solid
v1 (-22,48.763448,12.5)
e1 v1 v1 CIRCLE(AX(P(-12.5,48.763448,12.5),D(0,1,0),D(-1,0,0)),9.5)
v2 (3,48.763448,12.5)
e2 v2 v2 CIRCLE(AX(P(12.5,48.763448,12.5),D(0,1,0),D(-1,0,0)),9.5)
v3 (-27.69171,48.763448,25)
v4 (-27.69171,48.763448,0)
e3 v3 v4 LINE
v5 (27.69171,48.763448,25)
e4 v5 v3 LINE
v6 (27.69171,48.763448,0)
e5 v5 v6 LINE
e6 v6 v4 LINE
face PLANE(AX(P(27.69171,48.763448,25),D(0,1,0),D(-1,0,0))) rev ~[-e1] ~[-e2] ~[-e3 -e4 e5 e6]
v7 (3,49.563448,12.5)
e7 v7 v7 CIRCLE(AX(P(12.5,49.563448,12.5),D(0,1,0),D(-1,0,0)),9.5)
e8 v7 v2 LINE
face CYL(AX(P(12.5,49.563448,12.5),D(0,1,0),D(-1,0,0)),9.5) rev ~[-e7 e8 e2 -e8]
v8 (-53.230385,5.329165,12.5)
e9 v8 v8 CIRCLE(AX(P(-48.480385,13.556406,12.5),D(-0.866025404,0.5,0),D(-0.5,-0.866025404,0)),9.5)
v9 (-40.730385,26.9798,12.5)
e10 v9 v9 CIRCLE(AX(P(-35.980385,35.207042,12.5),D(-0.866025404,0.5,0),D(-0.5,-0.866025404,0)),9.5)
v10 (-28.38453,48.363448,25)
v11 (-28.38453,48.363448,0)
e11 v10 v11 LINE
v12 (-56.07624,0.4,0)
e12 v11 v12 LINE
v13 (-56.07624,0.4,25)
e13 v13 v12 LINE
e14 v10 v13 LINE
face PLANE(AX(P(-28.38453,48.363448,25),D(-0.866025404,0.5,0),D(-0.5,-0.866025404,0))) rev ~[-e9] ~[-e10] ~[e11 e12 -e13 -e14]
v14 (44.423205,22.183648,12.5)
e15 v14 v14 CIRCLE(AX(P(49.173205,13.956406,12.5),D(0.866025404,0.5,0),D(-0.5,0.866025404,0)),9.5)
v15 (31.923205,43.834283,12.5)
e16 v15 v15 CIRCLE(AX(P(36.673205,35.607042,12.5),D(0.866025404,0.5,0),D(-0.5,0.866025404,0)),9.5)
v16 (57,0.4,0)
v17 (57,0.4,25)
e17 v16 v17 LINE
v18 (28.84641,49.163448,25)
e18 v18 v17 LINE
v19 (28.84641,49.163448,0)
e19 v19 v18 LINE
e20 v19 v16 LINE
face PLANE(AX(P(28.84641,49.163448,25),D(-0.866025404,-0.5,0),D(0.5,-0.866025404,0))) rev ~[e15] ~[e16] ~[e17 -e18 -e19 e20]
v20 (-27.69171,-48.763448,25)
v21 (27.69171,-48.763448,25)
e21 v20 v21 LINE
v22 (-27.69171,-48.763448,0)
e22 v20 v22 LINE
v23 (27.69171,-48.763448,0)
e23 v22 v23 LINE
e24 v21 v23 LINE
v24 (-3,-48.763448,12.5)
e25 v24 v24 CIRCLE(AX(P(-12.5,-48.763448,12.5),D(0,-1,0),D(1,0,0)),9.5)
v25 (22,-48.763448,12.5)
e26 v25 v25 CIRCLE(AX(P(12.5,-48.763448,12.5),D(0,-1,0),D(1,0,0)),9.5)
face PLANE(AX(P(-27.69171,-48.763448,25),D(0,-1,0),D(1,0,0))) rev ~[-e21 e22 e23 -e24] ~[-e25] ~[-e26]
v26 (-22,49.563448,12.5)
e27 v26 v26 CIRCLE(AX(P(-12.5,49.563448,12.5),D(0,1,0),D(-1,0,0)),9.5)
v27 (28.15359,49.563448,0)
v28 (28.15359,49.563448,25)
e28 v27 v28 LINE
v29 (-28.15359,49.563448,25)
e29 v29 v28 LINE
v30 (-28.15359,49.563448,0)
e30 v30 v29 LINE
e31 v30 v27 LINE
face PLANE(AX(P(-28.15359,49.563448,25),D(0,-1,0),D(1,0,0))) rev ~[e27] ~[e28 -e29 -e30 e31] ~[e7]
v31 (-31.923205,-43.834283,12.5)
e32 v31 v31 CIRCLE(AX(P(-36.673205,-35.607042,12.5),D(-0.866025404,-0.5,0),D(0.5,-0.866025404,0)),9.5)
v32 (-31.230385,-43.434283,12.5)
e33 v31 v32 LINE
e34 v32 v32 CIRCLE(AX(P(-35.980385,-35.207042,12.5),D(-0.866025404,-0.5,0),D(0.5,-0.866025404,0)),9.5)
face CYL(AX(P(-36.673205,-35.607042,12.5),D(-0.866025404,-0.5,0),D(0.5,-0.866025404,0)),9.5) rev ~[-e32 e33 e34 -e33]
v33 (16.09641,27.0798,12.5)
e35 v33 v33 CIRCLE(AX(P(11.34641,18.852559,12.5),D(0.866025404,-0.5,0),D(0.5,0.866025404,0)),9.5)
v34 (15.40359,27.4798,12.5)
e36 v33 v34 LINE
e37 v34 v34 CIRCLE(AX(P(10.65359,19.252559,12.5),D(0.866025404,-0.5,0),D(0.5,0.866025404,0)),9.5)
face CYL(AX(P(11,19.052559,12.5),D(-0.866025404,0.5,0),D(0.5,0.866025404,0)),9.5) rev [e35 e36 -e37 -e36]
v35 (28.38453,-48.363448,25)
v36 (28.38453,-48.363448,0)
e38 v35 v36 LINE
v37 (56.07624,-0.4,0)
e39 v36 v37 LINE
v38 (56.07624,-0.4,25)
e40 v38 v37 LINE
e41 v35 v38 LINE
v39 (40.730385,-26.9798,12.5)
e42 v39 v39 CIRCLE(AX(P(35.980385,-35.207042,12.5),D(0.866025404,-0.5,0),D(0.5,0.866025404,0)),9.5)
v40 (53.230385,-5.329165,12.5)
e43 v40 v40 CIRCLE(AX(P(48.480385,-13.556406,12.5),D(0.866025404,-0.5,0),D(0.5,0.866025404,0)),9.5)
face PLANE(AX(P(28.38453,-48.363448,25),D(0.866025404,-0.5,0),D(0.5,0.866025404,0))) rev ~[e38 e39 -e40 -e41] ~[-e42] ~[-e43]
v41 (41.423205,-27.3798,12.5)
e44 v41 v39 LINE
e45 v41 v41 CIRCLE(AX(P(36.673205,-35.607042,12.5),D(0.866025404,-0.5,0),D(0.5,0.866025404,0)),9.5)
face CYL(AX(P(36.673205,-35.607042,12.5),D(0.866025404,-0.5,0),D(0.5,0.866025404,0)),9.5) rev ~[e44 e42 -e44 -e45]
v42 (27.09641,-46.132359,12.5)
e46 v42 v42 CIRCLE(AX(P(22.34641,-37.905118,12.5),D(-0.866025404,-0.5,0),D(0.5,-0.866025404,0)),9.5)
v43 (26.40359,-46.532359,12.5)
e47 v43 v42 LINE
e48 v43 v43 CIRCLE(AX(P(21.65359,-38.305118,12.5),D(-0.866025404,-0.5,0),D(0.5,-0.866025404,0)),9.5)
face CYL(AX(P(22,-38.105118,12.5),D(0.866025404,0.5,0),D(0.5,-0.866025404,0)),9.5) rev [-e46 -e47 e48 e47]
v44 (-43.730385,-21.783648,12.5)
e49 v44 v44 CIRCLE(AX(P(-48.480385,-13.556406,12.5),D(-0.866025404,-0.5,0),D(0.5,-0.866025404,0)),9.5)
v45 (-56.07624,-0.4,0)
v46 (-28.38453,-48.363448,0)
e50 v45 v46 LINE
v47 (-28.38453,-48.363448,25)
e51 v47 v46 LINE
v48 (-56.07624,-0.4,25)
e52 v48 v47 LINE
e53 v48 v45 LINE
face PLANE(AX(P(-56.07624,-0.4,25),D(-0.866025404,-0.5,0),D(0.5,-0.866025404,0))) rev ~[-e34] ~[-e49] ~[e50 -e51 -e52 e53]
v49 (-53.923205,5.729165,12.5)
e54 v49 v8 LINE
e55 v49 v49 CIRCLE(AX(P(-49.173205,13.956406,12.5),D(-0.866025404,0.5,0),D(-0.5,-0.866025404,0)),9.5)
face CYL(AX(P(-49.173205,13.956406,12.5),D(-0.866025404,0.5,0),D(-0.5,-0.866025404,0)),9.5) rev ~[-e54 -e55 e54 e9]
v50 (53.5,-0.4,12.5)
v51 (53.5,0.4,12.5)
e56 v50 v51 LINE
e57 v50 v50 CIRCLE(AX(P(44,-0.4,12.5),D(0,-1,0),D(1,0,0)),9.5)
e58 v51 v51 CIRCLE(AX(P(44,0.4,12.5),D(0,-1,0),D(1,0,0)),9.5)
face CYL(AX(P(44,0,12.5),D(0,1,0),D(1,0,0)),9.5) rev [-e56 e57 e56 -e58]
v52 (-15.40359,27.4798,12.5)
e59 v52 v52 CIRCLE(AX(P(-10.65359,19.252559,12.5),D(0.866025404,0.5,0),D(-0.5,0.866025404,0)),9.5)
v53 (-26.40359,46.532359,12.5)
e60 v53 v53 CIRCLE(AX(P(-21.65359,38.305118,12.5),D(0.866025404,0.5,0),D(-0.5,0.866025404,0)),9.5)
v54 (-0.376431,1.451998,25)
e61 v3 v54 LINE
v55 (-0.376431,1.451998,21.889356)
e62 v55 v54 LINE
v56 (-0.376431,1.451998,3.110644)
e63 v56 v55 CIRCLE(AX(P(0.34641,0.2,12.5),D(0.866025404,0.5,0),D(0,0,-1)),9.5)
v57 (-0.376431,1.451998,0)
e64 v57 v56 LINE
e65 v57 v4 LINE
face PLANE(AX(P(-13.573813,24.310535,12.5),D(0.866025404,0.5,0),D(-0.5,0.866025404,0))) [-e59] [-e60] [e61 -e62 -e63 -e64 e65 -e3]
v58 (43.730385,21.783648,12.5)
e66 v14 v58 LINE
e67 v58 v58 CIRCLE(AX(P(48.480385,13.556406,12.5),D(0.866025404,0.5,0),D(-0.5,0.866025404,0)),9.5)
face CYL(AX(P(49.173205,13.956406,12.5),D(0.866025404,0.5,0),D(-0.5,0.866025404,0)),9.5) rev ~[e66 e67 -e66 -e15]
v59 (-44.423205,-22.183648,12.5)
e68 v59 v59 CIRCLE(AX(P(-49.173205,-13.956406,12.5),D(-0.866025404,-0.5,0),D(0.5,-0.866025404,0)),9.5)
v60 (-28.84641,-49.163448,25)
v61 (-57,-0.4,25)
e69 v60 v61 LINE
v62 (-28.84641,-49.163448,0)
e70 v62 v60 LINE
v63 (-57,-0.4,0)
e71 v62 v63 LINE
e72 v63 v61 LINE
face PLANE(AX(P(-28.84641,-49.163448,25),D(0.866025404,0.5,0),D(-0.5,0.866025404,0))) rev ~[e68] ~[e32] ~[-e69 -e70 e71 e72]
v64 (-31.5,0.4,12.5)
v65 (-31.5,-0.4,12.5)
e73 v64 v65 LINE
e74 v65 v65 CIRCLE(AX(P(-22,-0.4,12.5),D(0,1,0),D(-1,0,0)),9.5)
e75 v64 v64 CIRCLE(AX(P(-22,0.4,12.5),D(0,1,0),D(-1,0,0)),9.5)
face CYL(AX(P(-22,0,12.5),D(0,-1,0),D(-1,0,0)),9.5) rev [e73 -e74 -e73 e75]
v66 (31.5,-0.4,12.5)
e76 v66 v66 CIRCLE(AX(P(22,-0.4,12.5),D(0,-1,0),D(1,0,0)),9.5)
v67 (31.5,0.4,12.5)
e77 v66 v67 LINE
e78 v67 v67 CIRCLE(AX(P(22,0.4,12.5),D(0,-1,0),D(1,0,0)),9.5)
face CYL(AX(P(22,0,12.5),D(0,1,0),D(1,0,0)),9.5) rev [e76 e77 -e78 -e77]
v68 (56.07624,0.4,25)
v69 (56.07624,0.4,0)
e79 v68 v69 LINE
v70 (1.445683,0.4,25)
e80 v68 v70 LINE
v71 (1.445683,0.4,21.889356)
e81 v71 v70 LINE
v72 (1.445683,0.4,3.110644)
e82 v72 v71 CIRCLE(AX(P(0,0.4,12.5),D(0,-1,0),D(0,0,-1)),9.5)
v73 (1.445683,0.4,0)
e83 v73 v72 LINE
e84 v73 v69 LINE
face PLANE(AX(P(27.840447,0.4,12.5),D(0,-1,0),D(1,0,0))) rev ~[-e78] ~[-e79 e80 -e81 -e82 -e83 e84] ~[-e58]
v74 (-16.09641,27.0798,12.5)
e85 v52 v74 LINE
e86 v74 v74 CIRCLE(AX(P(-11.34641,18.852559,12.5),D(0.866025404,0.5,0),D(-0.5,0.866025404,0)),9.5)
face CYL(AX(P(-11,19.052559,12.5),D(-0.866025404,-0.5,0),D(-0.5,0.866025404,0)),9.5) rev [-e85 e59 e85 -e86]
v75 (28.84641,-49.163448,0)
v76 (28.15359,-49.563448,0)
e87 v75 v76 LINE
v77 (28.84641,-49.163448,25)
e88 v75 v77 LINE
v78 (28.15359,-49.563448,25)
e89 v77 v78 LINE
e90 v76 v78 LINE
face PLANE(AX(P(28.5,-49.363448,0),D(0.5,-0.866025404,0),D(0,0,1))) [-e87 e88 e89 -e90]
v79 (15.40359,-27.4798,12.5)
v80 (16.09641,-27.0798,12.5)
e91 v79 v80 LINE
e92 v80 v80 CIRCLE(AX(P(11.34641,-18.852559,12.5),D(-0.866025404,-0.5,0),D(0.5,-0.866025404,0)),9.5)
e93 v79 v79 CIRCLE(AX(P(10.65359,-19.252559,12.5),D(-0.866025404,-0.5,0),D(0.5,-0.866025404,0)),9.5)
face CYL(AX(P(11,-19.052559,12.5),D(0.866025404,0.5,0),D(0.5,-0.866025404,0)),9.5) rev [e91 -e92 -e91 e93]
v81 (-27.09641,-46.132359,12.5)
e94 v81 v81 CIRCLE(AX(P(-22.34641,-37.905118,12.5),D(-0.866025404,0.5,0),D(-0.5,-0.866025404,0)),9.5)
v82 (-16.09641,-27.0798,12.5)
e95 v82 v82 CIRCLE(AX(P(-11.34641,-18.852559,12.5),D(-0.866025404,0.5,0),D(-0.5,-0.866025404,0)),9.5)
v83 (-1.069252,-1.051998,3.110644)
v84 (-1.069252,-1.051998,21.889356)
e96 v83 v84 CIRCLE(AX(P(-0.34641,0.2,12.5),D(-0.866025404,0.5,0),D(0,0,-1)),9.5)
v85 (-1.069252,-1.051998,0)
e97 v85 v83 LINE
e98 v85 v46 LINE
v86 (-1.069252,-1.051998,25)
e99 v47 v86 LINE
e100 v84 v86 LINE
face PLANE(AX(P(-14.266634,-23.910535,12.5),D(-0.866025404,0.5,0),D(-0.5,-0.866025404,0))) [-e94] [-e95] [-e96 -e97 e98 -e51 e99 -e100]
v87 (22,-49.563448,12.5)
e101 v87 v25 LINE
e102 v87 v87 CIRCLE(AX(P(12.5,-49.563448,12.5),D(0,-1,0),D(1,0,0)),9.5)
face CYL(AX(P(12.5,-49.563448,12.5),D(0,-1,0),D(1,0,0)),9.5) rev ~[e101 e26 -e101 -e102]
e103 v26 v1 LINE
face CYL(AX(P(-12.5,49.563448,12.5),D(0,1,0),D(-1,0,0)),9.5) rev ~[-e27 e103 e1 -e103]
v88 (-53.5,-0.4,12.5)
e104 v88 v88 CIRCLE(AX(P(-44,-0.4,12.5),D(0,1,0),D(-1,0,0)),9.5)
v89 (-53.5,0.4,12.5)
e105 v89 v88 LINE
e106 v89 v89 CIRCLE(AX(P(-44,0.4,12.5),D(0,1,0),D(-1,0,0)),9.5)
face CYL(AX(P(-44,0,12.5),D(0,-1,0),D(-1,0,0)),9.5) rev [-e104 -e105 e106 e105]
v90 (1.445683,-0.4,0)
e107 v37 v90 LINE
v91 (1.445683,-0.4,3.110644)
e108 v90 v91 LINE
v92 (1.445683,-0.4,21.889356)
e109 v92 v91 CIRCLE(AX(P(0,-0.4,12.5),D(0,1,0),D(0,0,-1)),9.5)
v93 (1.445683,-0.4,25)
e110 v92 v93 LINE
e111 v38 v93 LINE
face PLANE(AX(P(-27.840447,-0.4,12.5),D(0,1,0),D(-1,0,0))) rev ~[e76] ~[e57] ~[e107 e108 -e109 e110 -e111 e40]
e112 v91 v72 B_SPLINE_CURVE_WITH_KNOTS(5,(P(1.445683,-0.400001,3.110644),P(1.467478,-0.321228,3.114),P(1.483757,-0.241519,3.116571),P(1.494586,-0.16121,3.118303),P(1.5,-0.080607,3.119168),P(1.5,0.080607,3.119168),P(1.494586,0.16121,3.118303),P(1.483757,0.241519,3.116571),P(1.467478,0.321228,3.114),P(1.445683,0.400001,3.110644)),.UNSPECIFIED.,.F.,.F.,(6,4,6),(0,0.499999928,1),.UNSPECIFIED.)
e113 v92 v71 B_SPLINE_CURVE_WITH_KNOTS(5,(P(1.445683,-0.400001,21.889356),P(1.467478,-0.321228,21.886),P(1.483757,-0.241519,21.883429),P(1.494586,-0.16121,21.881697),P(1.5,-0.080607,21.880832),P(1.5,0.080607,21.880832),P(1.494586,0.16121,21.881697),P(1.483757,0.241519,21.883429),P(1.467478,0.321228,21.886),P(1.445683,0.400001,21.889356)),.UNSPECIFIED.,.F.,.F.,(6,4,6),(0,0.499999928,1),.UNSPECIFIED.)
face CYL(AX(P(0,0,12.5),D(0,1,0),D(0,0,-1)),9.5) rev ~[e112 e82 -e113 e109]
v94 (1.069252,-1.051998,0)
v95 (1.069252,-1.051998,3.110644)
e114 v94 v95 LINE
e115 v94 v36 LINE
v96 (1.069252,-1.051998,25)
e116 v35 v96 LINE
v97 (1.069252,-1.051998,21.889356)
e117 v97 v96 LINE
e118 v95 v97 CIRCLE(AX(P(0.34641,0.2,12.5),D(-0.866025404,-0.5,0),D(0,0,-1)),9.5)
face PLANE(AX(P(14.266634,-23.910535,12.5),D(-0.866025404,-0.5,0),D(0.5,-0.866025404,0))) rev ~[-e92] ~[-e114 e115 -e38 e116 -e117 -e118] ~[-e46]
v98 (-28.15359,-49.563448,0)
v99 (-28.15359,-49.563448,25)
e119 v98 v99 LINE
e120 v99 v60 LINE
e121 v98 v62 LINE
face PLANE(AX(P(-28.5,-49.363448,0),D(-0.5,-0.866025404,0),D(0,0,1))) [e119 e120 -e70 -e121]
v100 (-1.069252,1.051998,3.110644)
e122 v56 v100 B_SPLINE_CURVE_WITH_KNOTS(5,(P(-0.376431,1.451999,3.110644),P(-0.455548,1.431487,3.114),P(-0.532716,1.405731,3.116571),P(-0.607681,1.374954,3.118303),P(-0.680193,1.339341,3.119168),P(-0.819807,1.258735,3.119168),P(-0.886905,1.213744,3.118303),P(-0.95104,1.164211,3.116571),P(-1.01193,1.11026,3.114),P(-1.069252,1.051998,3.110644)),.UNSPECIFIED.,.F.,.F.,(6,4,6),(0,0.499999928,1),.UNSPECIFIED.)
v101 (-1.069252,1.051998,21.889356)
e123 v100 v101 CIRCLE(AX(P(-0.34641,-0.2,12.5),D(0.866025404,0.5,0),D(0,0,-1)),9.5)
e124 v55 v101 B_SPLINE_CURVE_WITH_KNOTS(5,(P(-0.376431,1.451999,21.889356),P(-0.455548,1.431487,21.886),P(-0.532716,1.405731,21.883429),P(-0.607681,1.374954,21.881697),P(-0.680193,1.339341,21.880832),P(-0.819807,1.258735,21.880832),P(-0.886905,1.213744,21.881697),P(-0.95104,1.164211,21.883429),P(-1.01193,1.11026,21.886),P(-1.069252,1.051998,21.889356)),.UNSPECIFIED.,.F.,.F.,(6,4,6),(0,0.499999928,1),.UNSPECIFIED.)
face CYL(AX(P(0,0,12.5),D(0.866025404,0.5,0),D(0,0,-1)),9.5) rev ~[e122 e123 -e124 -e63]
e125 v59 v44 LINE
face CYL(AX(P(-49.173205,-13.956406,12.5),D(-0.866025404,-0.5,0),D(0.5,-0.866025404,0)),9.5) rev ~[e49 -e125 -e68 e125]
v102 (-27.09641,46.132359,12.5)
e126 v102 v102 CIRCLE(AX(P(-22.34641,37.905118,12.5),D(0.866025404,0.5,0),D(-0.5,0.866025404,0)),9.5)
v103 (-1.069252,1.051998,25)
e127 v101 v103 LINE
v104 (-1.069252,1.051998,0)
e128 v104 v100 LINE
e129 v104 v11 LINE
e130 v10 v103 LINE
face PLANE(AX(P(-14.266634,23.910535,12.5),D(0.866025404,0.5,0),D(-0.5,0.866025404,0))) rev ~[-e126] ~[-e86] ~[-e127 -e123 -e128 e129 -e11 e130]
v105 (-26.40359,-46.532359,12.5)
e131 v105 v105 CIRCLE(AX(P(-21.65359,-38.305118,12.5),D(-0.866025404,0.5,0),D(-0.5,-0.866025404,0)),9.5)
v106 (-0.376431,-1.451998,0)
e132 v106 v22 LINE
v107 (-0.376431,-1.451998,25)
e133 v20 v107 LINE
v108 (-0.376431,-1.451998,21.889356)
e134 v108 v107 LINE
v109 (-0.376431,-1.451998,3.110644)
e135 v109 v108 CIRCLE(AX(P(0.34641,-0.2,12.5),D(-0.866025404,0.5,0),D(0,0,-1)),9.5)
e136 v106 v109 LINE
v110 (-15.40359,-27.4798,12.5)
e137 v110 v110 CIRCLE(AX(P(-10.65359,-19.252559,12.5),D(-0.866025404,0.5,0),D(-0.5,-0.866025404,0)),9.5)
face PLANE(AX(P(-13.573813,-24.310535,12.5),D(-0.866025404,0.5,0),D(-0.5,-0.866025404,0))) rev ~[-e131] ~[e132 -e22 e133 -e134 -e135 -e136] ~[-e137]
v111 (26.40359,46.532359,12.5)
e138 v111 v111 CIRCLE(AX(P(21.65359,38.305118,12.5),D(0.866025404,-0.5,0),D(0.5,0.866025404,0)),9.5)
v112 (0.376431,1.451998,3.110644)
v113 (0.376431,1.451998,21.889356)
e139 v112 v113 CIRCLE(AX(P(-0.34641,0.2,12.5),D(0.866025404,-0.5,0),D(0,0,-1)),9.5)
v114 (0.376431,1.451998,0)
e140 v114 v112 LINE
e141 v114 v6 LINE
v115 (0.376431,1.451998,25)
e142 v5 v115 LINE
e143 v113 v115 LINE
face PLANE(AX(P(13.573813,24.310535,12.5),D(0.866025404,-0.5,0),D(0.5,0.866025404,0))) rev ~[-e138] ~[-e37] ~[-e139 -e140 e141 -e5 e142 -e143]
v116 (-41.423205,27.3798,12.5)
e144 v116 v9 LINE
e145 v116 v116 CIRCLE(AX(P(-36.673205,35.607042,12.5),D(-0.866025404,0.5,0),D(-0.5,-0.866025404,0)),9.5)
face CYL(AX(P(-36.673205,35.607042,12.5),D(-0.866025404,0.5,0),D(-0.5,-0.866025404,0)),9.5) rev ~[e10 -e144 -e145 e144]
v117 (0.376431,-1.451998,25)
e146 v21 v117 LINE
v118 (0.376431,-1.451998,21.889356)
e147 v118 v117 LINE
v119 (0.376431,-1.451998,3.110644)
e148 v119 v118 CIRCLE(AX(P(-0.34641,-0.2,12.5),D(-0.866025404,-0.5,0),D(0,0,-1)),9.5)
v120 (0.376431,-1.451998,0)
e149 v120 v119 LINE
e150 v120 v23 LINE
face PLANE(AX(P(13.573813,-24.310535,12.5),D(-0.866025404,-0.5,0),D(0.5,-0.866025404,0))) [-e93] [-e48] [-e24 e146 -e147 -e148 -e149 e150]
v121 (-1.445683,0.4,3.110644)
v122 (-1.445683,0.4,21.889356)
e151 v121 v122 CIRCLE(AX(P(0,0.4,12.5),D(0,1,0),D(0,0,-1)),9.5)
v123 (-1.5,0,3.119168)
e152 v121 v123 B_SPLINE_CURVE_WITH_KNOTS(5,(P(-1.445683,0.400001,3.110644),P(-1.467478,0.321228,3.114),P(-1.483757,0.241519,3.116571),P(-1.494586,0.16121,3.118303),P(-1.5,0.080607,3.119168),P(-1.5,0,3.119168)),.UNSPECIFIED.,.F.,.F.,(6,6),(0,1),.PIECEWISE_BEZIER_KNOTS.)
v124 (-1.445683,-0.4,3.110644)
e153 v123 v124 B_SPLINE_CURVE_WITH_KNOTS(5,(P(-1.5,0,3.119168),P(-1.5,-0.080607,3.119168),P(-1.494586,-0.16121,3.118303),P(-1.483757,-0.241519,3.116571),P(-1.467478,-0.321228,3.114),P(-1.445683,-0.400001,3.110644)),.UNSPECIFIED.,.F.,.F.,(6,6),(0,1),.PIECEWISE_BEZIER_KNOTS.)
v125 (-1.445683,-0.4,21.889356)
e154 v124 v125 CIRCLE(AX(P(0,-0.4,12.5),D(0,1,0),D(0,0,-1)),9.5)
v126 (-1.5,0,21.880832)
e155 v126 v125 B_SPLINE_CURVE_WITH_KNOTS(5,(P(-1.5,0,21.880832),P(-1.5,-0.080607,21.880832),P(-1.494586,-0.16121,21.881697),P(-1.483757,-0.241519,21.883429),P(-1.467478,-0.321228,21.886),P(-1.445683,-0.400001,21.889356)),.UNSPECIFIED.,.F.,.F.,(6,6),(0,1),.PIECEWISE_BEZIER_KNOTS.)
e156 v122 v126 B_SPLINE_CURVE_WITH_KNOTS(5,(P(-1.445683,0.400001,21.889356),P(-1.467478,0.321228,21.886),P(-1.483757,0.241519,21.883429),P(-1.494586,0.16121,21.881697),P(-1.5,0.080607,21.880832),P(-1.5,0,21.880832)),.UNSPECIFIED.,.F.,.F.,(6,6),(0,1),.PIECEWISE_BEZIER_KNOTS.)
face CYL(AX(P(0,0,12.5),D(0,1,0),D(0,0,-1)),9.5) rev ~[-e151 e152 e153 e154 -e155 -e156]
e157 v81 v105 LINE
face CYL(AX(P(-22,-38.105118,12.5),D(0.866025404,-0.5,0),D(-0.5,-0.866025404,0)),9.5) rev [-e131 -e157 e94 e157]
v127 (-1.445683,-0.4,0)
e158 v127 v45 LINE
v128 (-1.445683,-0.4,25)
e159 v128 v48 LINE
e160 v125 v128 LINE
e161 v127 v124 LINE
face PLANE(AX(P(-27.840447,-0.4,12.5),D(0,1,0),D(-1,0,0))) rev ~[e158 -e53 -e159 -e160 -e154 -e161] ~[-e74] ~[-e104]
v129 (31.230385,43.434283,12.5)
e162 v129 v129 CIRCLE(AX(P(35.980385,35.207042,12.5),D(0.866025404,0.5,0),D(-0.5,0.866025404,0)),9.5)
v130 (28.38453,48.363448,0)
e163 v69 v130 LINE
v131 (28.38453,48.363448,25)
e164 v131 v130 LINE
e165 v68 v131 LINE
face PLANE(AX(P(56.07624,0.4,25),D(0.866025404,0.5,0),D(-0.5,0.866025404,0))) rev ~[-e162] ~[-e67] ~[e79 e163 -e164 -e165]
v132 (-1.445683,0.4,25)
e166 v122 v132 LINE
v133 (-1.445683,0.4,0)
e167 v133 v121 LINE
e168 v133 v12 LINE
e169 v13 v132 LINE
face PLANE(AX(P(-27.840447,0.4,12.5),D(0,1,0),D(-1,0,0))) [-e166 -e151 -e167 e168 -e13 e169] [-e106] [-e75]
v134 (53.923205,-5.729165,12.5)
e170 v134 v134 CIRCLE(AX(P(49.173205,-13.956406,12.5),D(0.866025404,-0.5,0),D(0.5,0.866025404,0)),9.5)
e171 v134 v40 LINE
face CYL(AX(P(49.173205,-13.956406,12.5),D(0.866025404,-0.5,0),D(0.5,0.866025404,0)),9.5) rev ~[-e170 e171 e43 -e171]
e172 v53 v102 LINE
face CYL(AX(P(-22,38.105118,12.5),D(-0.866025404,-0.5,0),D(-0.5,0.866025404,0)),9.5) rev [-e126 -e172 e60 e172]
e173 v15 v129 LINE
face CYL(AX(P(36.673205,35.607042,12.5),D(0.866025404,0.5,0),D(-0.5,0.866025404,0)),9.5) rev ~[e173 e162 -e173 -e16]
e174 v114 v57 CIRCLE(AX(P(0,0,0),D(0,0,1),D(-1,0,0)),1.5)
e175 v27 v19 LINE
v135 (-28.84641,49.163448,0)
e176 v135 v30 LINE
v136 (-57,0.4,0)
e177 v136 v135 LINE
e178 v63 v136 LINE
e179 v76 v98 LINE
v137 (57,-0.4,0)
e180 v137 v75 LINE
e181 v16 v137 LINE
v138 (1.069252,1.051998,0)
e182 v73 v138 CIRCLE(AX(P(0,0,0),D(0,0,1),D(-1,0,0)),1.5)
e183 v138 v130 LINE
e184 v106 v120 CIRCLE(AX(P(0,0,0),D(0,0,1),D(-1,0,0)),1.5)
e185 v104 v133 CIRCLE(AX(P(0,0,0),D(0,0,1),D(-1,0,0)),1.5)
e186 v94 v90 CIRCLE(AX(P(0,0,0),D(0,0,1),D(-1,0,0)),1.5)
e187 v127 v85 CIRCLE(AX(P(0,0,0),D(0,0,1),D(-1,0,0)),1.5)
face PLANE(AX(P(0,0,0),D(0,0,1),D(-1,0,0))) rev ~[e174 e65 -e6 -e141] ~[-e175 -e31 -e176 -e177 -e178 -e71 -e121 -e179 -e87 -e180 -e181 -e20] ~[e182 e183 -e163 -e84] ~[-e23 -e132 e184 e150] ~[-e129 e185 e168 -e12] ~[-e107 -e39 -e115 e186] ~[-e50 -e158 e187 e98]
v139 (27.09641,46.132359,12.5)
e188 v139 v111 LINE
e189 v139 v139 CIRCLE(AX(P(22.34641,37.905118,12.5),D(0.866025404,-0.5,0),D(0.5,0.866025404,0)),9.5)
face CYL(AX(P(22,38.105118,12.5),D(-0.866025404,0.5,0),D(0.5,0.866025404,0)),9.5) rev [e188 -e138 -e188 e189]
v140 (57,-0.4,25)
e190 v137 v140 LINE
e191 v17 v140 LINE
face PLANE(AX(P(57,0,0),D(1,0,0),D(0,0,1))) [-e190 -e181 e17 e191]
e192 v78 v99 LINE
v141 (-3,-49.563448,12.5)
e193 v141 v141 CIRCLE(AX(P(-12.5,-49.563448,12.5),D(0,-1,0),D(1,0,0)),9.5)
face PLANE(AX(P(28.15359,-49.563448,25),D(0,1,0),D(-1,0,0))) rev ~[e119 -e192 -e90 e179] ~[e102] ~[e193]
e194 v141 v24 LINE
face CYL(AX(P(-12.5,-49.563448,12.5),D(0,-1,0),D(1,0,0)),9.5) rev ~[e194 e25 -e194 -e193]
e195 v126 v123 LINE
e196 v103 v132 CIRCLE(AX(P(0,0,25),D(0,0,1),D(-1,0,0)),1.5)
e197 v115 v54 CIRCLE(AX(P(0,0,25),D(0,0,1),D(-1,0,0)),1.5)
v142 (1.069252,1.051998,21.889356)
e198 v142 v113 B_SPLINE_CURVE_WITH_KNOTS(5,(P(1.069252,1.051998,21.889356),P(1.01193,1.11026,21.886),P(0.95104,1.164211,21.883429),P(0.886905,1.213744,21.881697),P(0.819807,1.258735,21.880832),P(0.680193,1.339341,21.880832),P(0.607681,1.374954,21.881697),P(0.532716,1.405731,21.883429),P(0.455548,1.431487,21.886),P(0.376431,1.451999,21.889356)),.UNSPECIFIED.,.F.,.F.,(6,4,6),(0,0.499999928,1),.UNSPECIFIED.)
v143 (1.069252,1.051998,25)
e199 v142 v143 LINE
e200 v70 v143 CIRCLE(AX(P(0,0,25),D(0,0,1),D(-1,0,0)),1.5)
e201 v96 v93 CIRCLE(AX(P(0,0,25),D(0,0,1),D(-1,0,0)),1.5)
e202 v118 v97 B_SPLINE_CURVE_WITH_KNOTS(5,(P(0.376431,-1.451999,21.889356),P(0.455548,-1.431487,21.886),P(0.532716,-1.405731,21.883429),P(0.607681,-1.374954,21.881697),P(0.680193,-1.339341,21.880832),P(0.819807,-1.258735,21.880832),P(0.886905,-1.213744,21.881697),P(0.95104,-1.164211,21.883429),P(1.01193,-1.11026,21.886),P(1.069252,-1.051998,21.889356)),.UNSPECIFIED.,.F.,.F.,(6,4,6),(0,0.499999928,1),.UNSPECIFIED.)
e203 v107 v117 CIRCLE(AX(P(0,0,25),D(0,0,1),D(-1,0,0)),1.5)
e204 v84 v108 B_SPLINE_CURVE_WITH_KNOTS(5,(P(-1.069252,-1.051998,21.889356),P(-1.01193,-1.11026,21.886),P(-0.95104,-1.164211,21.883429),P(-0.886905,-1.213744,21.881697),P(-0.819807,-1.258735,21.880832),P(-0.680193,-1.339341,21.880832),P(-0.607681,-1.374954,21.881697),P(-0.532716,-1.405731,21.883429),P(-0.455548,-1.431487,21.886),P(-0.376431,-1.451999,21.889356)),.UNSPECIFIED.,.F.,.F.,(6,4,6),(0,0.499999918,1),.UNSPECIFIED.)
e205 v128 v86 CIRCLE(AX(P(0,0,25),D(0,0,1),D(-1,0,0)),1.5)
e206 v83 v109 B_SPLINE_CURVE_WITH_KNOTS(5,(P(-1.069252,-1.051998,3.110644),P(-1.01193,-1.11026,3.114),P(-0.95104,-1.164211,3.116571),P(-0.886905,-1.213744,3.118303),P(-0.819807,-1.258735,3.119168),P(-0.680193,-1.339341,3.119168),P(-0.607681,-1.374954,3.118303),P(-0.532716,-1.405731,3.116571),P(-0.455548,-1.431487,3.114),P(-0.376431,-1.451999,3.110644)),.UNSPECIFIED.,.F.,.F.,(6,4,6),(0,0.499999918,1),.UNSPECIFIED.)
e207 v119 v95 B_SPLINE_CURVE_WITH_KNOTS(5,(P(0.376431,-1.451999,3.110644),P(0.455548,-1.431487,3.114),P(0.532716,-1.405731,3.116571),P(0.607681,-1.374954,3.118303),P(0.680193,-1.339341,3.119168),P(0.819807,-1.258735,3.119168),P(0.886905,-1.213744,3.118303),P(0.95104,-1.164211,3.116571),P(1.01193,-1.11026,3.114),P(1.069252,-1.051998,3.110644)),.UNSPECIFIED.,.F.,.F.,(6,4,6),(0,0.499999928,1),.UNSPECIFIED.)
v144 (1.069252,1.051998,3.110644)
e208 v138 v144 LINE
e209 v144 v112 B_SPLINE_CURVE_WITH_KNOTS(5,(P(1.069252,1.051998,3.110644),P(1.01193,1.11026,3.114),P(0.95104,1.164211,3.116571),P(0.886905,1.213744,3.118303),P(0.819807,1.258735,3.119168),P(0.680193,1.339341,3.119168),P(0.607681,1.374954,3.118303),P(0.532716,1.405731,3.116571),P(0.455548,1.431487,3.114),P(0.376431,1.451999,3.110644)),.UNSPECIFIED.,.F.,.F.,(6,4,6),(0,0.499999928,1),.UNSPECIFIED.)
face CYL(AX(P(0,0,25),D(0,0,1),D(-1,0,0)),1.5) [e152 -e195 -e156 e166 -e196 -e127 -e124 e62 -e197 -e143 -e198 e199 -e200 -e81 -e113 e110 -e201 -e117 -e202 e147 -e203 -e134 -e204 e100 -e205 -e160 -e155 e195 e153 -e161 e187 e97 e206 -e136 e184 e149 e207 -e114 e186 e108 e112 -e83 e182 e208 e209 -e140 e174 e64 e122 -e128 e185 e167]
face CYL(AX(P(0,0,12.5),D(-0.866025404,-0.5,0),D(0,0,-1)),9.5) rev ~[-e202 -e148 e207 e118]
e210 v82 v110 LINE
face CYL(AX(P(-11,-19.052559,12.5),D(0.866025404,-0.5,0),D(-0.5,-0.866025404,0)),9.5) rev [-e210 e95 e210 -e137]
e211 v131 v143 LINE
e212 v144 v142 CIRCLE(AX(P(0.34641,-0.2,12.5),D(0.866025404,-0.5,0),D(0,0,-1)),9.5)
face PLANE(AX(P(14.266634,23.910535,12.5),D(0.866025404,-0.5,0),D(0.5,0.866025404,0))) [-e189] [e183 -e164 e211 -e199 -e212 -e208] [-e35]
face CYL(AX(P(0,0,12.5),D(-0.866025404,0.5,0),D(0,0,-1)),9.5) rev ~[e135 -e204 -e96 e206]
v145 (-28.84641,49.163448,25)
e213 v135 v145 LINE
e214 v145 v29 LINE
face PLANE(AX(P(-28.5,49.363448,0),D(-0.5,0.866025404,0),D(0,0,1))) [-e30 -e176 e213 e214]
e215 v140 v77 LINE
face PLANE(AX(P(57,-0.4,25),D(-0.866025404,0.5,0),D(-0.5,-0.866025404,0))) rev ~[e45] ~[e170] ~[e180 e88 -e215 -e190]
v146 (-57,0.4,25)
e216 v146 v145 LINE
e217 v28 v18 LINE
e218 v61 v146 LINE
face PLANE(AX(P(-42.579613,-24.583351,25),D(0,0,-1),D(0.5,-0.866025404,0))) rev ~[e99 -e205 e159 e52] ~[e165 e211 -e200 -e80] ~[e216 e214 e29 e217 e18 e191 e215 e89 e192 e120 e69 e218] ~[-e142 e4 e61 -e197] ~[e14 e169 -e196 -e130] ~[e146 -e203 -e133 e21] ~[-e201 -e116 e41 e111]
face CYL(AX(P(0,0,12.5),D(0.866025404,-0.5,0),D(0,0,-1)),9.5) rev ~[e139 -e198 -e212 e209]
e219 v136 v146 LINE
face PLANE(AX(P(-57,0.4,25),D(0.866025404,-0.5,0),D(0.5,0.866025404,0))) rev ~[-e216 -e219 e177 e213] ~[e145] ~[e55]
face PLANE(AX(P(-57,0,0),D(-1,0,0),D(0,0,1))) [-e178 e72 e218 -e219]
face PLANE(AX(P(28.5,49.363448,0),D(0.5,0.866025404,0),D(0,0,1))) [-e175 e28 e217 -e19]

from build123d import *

# Parameters (mm, degrees)
SKETCH_R              = 9.5
PAD_DEPTH             = 0.4
POLARPATTERN_COUNT    = 6
PAD001_DEPTH          = 25
POLARPATTERN001_COUNT = 6
SKETCH002_R           = 9.5
POCKET_DEPTH          = 2
POLARPATTERN002_COUNT = 6
SKETCH003_R           = 1.5
PAD002_DEPTH          = 25


with BuildPart() as part:
    # Sketch → Pad (new body, symmetric)
    with BuildSketch(Plane.XZ):
        with BuildLine():
            Line((0, 0), (57, 0))
            Line((57, 0), (57, 25))
            Line((57, 25), (0, 25))
            Line((0, 25), (0, 22))
            ThreePointArc((0, 3), (9.5, 12.5), (0, 22))
            Line((0, 3), (0, 0))
        make_face()
        with Locations((22, 12.5)):
            Circle(SKETCH_R, mode=Mode.SUBTRACT)
        with Locations((44, 12.5)):
            Circle(SKETCH_R, mode=Mode.SUBTRACT)
    pad = extrude(amount=PAD_DEPTH, both=True)

    # PolarPattern: Pad ×6 about axis
    polarpattern_axis = Axis((0, 0, 0), (0, 0, 1))
    for i in range(1, POLARPATTERN_COUNT):
        add(pad.rotate(polarpattern_axis, i * 360 / POLARPATTERN_COUNT))

    # Sketch001 (on Face55 of PolarPattern) → Pad001 (join)
    with BuildSketch(Plane(origin=(0, 0, 25), x_dir=(-1, 0, 0), z_dir=(0, 0, 1))):
        Polygon((-28.15359, 49.563448), (28.15359, 49.563448), (27.69171, 48.763448), (-27.69171, 48.763448), align=None)
    pad001 = extrude(amount=-PAD001_DEPTH)

    # PolarPattern001: Pad001 ×6 about axis
    polarpattern001_axis = Axis((0, 0, 25), (0, 0, 1))
    for i in range(1, POLARPATTERN001_COUNT):
        add(pad001.rotate(polarpattern001_axis, i * 360 / POLARPATTERN001_COUNT))

    # Sketch002 (on Face59 of Pad001) → Pocket (cut)
    with BuildSketch(Plane.XZ.offset(49.563448)):
        with Locations((-12.5, 12.5)):
            Circle(SKETCH002_R)
        with Locations((12.5, 12.5)):
            Circle(SKETCH002_R)
    pocket = extrude(amount=-POCKET_DEPTH, mode=Mode.SUBTRACT)

    # PolarPattern002: Pocket ×6 about axis
    polarpattern002_axis = Axis((0, 0, 0), (0, 0, 1))
    for i in range(1, POLARPATTERN002_COUNT):
        add(pocket.rotate(polarpattern002_axis, i * 360 / POLARPATTERN002_COUNT), mode=Mode.SUBTRACT)

    # Sketch003 (on Face81 of PolarPattern002) → Pad002 (join)
    with BuildSketch(Plane(origin=(0, 0, 25), x_dir=(-1, 0, 0), z_dir=(0, 0, 1))):
        Circle(SKETCH003_R)
    extrude(amount=-PAD002_DEPTH)


solid = part.part
